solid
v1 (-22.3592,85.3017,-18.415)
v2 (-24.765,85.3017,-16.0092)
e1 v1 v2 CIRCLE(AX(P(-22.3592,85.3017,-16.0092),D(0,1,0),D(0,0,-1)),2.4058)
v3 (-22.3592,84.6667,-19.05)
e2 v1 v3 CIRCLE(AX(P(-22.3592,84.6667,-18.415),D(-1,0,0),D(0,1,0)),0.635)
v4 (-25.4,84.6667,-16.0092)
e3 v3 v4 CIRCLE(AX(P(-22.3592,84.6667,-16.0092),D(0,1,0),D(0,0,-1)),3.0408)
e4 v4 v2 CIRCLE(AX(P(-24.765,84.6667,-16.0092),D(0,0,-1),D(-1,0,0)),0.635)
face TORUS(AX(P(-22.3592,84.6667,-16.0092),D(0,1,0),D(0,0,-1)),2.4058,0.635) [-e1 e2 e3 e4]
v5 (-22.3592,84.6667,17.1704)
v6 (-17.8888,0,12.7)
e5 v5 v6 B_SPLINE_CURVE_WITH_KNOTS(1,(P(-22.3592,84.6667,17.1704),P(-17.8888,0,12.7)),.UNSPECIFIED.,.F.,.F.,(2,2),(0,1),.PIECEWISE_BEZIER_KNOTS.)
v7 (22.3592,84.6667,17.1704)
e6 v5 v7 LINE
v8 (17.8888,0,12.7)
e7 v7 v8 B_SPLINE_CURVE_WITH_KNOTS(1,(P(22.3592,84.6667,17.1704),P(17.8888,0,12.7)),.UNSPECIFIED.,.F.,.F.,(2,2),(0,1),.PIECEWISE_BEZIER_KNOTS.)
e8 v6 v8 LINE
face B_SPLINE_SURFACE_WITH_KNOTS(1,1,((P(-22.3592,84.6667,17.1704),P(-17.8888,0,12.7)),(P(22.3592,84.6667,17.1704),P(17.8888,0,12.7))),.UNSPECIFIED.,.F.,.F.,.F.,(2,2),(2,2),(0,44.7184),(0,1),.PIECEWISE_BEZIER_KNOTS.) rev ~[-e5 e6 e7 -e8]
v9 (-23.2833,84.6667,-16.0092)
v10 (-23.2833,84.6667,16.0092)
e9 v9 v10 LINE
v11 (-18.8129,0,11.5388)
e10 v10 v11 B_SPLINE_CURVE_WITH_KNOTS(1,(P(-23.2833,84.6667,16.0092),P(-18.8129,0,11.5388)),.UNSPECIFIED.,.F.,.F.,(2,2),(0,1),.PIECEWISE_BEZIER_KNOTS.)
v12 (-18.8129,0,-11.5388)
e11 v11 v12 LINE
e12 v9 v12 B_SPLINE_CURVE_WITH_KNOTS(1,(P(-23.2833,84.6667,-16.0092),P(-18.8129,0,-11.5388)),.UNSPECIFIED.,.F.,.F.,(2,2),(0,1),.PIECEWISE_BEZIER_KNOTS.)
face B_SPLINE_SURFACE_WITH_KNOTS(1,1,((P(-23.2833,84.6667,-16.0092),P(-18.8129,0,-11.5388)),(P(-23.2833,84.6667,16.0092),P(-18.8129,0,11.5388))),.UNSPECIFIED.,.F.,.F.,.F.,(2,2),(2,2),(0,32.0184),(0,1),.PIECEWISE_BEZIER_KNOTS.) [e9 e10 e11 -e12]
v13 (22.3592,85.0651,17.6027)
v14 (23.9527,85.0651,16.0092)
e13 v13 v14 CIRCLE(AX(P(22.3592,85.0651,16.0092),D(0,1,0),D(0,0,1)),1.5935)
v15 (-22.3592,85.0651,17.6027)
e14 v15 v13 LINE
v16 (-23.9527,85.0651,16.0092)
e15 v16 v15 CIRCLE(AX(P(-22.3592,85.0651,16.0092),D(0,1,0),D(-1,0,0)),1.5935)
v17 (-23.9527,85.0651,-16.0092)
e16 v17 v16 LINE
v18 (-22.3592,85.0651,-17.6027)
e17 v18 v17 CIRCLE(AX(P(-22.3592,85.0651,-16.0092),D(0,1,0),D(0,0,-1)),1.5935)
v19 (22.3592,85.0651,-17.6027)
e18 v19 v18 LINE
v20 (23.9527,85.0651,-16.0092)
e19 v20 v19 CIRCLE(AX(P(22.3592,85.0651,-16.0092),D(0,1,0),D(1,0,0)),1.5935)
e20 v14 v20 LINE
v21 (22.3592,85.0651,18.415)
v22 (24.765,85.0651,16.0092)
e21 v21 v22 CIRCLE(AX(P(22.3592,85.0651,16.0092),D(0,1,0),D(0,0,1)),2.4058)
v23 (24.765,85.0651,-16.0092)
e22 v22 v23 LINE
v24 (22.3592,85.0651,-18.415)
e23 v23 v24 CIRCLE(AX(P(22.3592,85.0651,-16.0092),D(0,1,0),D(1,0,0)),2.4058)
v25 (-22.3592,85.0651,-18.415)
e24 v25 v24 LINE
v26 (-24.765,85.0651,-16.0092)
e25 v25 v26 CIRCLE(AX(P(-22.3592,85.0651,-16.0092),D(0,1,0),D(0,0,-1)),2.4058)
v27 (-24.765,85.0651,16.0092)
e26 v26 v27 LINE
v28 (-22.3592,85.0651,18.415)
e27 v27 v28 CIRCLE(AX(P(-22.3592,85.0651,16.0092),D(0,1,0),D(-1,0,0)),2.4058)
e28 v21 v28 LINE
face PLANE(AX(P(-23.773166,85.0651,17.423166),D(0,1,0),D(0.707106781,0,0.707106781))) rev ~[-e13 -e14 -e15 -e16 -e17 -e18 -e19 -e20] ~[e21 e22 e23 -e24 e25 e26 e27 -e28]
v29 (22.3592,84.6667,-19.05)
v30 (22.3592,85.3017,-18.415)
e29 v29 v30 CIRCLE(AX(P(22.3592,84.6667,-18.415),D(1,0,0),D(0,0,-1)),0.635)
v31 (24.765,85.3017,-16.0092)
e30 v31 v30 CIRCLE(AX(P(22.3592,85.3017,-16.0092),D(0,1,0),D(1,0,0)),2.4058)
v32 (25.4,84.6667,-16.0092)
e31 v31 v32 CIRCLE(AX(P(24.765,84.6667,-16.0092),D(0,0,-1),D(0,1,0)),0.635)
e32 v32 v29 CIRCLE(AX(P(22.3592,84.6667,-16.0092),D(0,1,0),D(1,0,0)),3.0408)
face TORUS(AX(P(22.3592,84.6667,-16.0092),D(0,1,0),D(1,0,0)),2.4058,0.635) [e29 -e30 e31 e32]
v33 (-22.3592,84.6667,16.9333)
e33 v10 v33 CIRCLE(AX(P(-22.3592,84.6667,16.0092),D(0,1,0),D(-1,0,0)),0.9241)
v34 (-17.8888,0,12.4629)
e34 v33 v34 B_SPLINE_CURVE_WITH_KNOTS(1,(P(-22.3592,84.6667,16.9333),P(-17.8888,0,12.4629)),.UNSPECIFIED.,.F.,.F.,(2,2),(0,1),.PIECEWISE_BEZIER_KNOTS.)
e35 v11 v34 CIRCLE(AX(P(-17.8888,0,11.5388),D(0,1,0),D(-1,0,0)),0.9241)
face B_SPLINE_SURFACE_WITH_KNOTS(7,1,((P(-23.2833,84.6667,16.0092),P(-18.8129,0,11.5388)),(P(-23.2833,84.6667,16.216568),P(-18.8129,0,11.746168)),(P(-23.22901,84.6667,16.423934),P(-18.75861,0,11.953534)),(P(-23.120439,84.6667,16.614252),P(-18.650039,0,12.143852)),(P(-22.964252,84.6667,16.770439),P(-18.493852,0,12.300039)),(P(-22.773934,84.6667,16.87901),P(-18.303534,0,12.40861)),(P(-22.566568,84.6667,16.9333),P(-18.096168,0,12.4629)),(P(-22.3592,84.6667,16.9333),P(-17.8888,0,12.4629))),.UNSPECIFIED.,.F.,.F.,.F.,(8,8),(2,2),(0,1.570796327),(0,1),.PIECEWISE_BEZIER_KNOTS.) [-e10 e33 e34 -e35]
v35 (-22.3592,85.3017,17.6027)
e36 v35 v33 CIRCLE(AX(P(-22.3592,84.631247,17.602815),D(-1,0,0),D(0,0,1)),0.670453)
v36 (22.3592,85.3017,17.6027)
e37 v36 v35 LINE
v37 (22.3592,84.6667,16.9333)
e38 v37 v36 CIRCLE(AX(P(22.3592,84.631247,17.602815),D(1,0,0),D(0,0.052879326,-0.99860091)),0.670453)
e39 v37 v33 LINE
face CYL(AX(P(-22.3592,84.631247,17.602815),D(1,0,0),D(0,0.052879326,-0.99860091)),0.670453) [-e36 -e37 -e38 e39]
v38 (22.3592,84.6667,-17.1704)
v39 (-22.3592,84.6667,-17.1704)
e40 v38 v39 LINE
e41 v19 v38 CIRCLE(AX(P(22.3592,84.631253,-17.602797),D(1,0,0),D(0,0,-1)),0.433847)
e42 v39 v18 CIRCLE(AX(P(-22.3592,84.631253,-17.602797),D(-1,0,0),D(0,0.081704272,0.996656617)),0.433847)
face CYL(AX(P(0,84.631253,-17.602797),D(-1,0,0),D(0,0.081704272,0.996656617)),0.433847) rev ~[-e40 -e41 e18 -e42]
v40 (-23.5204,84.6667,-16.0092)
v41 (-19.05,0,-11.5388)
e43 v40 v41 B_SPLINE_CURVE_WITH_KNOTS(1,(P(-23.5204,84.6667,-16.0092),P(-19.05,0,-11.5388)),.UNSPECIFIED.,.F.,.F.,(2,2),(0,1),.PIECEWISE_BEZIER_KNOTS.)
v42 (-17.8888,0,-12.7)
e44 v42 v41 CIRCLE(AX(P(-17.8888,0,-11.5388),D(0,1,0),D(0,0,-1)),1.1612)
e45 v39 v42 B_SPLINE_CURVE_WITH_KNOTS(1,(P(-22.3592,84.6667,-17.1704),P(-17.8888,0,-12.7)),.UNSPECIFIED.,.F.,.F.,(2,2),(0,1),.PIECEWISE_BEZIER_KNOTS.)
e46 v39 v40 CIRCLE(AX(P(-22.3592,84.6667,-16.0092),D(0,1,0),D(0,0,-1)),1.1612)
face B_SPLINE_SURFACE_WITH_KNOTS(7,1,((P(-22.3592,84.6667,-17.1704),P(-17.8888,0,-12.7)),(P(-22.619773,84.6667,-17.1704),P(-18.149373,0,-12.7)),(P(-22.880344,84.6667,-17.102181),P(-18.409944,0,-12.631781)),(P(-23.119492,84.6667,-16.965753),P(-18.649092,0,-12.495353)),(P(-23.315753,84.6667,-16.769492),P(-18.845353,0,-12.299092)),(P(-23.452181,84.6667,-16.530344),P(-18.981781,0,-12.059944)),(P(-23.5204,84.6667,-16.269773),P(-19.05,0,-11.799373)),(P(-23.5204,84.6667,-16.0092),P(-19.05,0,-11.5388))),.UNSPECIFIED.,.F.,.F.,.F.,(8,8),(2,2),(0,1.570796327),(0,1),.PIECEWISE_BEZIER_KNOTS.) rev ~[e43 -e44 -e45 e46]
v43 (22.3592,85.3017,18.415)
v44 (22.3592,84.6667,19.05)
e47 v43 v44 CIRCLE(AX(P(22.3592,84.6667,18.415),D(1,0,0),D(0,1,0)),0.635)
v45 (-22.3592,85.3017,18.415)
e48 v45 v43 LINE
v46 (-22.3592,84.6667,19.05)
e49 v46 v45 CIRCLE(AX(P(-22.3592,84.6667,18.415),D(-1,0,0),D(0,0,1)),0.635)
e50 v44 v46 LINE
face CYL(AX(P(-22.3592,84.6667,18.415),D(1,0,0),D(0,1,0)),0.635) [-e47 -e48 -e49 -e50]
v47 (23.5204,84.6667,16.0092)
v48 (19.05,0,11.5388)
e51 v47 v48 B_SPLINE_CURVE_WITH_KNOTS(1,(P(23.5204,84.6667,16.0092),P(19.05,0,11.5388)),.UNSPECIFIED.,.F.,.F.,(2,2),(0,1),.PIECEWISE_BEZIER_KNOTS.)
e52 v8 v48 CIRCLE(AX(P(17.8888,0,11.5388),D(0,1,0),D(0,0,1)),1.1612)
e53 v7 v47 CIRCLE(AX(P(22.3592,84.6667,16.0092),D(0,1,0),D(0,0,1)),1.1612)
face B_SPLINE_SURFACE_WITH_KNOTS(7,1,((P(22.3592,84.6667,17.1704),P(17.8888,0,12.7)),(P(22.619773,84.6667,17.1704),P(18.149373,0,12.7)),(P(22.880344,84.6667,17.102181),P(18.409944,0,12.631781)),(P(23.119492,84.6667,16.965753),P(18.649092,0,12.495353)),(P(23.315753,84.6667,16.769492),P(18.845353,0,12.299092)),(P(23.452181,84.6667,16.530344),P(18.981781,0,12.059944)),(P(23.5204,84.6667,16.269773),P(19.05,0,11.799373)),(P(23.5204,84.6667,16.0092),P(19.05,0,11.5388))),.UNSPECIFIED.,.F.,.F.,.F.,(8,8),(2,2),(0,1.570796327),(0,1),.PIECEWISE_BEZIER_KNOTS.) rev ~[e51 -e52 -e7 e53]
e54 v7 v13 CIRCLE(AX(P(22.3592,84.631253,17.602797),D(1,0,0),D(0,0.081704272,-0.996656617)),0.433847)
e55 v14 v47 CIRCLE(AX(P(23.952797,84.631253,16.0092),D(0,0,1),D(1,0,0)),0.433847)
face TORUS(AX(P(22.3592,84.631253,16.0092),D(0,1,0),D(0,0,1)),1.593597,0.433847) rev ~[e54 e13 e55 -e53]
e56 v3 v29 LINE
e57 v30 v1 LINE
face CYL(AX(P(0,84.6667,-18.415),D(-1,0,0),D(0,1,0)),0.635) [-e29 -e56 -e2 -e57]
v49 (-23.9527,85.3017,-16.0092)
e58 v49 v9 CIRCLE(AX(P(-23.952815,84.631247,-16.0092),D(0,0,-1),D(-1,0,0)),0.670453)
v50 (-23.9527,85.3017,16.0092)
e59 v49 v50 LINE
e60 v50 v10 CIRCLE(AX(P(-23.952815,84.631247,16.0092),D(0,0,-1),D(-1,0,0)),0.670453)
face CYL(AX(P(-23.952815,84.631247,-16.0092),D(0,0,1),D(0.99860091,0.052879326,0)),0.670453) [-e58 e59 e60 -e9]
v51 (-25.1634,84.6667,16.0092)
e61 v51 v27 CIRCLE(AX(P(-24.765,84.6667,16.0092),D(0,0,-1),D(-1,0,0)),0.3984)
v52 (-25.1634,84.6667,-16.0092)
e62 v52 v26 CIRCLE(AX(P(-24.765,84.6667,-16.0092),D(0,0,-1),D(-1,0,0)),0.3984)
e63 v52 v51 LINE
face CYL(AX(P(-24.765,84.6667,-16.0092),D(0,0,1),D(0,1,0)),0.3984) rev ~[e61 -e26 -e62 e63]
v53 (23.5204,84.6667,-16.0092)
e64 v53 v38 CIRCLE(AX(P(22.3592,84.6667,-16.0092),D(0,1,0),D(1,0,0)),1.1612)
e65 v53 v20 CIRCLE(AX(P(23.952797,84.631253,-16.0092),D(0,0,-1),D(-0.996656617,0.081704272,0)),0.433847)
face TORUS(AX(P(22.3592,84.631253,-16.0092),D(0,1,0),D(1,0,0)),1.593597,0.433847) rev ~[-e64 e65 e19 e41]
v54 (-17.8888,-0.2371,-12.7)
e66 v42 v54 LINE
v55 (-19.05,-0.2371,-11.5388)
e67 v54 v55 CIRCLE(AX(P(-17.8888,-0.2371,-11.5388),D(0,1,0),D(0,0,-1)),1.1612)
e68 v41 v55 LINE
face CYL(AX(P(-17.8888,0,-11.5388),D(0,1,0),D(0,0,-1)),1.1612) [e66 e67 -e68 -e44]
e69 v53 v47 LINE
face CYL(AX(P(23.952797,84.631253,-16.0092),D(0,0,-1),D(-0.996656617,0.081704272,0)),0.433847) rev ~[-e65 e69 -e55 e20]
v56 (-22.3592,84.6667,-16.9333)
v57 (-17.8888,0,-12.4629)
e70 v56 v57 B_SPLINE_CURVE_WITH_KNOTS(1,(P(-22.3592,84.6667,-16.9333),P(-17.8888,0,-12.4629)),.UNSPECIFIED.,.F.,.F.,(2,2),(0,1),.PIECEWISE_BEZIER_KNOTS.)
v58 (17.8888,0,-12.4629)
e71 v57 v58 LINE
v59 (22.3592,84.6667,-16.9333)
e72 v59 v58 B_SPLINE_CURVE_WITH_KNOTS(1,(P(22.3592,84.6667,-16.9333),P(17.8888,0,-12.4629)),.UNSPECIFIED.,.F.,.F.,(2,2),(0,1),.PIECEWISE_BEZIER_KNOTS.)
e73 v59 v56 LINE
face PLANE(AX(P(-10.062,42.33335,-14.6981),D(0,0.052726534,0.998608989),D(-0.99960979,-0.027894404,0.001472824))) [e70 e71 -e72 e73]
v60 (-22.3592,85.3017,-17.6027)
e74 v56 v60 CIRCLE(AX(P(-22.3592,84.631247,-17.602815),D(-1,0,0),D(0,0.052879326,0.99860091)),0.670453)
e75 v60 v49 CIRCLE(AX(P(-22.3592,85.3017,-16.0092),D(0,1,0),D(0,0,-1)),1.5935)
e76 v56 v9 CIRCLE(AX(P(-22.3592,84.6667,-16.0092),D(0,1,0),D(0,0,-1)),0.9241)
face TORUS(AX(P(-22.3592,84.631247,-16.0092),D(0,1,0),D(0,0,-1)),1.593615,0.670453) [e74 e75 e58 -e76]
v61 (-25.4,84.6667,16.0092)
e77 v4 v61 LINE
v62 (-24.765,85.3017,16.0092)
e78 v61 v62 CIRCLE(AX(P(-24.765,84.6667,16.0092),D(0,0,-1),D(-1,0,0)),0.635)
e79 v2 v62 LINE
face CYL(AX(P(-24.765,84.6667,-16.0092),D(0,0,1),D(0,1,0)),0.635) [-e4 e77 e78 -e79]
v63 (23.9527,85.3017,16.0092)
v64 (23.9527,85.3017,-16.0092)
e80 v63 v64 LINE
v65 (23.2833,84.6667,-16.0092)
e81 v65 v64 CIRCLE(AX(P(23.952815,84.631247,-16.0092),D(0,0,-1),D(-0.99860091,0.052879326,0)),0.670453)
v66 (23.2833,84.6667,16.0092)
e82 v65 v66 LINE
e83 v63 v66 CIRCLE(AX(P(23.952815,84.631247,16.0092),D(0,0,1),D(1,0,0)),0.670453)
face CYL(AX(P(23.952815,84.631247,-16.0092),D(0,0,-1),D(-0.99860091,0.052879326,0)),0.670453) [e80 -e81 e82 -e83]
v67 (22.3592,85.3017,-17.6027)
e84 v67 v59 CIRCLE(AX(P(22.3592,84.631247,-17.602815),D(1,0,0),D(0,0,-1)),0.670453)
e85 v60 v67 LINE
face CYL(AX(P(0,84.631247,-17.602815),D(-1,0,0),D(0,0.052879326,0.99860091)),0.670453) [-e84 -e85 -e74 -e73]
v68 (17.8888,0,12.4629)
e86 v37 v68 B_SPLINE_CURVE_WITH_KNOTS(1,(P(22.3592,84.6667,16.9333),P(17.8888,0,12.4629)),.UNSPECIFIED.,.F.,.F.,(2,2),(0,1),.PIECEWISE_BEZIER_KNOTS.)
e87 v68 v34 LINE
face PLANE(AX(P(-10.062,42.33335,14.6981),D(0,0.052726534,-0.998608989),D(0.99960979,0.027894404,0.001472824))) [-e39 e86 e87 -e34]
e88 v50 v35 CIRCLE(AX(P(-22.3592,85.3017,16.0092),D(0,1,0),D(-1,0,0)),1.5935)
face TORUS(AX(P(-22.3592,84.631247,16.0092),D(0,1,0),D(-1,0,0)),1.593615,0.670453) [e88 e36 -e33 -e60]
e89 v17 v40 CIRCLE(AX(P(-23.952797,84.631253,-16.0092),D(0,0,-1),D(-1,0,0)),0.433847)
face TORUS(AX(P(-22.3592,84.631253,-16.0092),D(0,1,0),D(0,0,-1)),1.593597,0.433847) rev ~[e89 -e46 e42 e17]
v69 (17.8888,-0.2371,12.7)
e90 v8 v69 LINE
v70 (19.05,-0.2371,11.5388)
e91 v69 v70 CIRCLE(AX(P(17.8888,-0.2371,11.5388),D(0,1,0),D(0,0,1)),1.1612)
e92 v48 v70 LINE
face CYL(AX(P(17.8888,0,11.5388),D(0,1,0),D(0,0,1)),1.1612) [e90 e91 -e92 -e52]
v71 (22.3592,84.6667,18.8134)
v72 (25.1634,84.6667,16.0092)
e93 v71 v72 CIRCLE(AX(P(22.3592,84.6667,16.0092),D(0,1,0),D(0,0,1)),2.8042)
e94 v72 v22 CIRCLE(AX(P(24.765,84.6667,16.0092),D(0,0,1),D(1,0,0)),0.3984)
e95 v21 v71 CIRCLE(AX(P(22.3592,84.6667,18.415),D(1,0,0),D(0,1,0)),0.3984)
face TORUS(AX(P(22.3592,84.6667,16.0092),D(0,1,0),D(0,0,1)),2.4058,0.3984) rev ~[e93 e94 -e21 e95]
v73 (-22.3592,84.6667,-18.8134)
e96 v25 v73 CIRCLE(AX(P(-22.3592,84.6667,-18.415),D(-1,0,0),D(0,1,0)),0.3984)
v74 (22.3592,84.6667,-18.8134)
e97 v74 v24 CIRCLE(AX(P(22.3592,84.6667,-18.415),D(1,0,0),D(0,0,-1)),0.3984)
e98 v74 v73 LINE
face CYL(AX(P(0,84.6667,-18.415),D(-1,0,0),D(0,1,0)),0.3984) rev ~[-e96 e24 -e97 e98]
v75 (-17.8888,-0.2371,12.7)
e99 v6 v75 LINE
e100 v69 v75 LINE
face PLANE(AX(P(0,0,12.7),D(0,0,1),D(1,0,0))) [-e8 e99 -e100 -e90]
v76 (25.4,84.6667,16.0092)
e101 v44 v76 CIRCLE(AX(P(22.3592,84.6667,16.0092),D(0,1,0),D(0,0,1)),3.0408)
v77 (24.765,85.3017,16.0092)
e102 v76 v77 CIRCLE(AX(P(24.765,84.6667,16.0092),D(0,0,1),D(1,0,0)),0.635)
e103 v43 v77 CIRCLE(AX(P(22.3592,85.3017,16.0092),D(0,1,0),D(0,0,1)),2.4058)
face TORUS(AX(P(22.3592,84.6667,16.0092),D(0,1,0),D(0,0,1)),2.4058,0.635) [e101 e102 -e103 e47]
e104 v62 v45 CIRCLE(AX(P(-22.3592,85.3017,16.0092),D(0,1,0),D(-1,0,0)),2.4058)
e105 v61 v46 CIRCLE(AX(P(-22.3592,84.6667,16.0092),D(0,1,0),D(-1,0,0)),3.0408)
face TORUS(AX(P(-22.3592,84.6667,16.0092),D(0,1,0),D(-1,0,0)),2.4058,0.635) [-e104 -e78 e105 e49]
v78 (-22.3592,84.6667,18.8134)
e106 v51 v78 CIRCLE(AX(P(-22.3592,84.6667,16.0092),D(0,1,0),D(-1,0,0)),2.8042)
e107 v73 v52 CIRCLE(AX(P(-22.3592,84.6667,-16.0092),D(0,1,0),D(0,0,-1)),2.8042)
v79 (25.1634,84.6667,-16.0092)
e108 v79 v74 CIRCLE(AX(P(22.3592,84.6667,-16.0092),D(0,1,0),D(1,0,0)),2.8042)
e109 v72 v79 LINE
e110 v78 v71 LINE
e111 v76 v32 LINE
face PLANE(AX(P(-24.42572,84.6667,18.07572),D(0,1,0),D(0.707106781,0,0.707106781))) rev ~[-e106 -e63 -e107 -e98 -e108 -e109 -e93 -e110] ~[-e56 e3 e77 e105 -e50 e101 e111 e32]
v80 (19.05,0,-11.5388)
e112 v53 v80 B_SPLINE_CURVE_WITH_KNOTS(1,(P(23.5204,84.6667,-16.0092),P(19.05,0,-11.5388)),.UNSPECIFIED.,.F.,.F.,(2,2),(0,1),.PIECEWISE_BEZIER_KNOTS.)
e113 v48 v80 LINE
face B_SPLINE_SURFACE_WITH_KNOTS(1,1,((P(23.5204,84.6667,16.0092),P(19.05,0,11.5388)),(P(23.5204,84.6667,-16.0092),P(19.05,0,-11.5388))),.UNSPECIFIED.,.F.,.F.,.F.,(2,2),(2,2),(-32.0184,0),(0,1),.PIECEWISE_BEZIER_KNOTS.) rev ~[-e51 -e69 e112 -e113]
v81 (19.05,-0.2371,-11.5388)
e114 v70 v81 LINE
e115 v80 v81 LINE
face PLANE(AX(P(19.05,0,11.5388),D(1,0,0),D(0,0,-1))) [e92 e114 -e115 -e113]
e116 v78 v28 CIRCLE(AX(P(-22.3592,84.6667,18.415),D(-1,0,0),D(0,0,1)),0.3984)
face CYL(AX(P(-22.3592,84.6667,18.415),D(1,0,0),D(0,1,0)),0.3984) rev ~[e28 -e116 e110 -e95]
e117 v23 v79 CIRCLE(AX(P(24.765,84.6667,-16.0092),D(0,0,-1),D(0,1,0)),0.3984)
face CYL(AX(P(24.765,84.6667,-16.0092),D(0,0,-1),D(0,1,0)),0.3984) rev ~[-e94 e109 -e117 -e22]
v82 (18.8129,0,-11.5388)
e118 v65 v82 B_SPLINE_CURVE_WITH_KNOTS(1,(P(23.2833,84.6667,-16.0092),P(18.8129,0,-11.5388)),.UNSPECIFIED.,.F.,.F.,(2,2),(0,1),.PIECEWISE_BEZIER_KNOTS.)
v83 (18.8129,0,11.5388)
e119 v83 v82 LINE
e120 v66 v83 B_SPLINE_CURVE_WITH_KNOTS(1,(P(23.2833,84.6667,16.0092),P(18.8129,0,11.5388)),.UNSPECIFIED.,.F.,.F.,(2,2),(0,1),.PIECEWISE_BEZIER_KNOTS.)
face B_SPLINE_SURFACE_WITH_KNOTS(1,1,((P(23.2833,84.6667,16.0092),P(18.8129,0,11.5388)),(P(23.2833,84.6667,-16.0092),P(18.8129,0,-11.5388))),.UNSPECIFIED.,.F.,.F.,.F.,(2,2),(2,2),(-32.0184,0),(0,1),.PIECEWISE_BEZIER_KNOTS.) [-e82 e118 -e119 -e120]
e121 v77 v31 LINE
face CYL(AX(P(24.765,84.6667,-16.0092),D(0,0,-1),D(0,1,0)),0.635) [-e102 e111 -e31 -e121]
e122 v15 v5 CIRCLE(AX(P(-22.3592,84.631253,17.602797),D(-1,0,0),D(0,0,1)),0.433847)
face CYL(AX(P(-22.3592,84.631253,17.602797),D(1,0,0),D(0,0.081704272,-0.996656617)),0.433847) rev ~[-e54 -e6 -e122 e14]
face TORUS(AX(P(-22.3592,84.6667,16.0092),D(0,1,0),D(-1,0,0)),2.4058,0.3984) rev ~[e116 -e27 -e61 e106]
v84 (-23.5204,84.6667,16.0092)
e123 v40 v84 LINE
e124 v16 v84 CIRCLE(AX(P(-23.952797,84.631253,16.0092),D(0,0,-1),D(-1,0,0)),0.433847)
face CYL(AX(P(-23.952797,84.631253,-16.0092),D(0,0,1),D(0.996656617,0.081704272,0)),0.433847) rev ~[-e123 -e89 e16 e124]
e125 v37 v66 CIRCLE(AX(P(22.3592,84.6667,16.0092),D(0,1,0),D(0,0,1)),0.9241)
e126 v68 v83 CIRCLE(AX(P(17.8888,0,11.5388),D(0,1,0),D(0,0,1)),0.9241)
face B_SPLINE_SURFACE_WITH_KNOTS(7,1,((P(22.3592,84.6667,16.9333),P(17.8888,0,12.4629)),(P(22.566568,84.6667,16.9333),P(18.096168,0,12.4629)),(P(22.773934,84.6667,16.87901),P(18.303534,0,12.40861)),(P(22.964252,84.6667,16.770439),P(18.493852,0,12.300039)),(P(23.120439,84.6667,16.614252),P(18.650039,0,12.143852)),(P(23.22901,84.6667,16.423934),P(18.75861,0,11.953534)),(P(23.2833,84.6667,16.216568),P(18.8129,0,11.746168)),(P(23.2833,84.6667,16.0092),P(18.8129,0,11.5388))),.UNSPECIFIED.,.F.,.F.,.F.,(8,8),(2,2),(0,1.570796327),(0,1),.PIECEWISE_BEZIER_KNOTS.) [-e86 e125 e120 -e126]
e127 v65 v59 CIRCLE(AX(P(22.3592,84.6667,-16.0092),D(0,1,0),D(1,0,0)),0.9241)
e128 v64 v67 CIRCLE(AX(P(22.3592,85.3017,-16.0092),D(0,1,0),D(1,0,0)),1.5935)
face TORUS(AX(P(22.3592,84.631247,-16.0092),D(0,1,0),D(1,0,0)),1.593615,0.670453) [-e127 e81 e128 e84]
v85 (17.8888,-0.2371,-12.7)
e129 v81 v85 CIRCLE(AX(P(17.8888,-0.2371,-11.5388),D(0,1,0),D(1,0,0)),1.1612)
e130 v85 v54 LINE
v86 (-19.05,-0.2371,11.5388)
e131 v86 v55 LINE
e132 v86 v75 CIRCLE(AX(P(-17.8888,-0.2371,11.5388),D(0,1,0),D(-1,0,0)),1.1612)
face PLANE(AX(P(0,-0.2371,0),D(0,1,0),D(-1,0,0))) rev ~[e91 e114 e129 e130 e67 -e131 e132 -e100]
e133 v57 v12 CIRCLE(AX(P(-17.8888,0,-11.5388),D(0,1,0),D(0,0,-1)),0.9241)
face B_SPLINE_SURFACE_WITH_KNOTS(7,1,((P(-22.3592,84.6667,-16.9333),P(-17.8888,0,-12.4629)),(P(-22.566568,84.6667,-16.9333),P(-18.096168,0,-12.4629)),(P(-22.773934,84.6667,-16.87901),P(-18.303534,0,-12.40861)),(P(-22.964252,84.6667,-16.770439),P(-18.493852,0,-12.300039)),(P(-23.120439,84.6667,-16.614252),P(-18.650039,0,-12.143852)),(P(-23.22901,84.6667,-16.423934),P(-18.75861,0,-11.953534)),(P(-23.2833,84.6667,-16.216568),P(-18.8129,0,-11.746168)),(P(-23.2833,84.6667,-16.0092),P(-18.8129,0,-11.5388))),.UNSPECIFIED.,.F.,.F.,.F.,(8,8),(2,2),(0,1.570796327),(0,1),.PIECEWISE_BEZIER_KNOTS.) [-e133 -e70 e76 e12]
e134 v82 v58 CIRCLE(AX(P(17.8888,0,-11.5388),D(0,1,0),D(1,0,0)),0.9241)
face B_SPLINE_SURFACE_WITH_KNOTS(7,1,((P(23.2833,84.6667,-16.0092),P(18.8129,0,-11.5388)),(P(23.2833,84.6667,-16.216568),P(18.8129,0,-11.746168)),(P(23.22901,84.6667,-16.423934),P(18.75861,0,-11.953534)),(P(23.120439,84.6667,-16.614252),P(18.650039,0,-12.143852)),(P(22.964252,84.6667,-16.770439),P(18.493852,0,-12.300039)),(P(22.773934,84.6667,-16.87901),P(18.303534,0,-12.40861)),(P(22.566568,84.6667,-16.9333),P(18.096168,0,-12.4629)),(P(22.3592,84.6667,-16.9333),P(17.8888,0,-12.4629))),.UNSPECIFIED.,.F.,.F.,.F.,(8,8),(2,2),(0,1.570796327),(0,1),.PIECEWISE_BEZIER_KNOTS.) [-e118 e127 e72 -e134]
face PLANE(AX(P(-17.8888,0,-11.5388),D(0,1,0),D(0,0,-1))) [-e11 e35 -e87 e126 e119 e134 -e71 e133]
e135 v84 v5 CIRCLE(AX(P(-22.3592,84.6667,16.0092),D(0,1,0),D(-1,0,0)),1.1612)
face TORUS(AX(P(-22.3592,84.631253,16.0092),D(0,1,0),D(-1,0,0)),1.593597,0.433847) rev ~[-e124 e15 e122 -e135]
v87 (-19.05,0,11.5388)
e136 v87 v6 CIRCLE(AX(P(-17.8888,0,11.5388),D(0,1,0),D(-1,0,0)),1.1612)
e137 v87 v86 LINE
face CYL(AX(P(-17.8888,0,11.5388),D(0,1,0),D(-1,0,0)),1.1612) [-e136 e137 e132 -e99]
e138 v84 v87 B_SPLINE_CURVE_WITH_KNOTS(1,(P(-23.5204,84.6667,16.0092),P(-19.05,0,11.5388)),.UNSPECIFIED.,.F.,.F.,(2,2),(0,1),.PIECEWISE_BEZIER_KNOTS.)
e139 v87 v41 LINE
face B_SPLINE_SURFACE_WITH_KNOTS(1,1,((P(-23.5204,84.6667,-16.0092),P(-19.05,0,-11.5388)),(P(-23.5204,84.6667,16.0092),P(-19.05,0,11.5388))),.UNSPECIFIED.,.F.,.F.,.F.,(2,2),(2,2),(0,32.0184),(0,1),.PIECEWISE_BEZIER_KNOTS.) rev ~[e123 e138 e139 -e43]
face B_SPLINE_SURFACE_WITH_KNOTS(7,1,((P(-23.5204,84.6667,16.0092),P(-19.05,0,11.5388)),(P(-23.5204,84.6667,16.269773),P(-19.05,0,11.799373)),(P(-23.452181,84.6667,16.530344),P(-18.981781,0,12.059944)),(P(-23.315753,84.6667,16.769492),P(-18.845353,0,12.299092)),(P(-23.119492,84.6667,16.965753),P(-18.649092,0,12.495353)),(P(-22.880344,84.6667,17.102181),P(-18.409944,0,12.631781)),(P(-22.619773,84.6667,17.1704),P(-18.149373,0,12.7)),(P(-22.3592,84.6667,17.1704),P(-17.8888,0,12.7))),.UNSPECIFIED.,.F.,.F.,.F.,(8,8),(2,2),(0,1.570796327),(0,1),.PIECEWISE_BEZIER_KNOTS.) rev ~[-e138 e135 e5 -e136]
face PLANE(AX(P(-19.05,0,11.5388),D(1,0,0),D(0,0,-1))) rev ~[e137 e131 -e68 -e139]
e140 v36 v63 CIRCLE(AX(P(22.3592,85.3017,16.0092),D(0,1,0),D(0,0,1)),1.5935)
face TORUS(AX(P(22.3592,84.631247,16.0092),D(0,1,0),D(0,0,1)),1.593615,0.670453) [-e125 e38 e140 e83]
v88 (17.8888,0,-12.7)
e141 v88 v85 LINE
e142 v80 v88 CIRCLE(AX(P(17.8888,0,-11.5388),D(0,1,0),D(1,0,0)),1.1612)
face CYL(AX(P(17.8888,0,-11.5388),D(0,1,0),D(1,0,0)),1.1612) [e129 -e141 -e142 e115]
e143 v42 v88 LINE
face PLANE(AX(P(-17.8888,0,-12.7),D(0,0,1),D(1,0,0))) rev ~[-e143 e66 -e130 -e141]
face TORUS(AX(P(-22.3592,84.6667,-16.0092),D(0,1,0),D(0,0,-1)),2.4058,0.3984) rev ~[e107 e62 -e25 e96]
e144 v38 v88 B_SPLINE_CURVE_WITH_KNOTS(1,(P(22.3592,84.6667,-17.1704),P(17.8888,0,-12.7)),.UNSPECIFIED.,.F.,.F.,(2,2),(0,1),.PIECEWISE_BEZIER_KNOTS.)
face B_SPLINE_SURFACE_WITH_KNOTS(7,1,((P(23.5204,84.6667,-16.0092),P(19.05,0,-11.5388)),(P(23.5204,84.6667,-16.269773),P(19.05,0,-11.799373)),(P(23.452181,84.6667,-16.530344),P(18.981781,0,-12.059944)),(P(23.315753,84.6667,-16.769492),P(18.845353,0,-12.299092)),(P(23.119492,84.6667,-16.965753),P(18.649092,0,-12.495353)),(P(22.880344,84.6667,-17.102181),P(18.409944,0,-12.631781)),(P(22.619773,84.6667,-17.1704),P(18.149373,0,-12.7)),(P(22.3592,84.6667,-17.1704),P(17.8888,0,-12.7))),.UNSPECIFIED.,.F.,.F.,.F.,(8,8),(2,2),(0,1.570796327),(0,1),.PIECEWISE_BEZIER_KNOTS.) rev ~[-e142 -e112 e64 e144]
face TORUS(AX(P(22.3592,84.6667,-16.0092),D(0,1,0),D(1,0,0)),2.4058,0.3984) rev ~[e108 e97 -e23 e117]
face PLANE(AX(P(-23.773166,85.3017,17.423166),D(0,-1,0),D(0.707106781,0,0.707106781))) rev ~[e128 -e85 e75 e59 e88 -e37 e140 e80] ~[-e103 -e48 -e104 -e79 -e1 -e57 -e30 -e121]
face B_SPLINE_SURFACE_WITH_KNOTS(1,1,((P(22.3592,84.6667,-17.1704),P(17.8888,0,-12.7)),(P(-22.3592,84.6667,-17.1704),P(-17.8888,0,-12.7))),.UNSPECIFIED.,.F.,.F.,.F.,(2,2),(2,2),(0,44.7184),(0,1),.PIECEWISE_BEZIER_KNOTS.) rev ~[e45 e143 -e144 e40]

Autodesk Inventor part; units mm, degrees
ref_plane "YZ Plane" through (0, 0, 0) normal (1, 0, 0) x (0, 1, 0)
ref_plane "XY Plane" through (0, 0, 0) normal (0, 0, 1) x (1, 0, 0)
sketch "Sketch1" plane through (0, 0, 0) normal (0, 1, 0) x (-1, 0, 0)
  line L0 (17.8888, -12.7) -> (0, -12.7)
  line L1 (0, 12.7) -> (17.8888, 12.7)
  line L2 (19.05, 11.5388) -> (19.05, -11.5388)
  arc A0 (17.8888, -12.7) -> (19.05, -11.5388) centre (17.8888, -11.5388) ccw
  line L3 (0, -12.7) -> (0, 12.7) construction
  arc A1 (19.05, 11.5388) -> (17.8888, 12.7) centre (17.8888, 11.5388) ccw
  line L4 (17.8888, -12.4629) -> (0, -12.4629)
  line L5 (0, 12.4629) -> (17.8888, 12.4629)
  line L6 (18.8129, 11.5388) -> (18.8129, -11.5388)
  arc A2 (17.8888, -12.4629) -> (18.8129, -11.5388) centre (17.8888, -11.5388) ccw
  arc A3 (18.8129, 11.5388) -> (17.8888, 12.4629) centre (17.8888, 11.5388) ccw
  line L7 (-17.8888, -12.7) -> (0, -12.7)
  line L8 (0, 12.7) -> (-17.8888, 12.7)
  line L9 (-19.05, 11.5388) -> (-19.05, -11.5388)
  arc A4 (-19.05, -11.5388) -> (-17.8888, -12.7) centre (-17.8888, -11.5388) ccw
  arc A5 (-17.8888, 12.7) -> (-19.05, 11.5388) centre (-17.8888, 11.5388) ccw
  line L10 (-17.8888, -12.4629) -> (0, -12.4629)
  line L11 (0, 12.4629) -> (-17.8888, 12.4629)
  line L12 (-18.8129, 11.5388) -> (-18.8129, -11.5388)
  arc A6 (-18.8129, -11.5388) -> (-17.8888, -12.4629) centre (-17.8888, -11.5388) ccw
  arc A7 (-17.8888, 12.4629) -> (-18.8129, 11.5388) centre (-17.8888, 11.5388) ccw
  point P0 (0, 0)
  point P1 (0, 0)
  dimension "d2" = 0.2371
  dimension "d3" = 0.2371
  dimension "d4" = 0.2371
  dimension "d6" = 19.05
  dimension "d7" = 25.4
  dimension "d17" = 0.9241
extrude "bottom of bin" add sketch "Sketch1" against normal blind 0.2371 contours L0 L7 A4 L9 A5 L8 L1 A1 L2 A0 | L4 L10 A6 L12 A7 L11 L5 A3 L6 A2
ref_plane "Work Plane1" through (0, 84.6667, 0) normal (0, 1, 0) x (-1, 0, 0)
sketch "Sketch2" plane through (0, 84.6667, 0) normal (0, 1, 0) x (-1, 0, 0)
  line L0 (0, -16.9333) -> (22.3592, -16.9333)
  line L1 (23.2833, -16.0092) -> (23.2833, 16.0092)
  line L2 (22.3592, 16.9333) -> (0, 16.9333)
  line L3 (17.8888, -12.7) -> (-17.8888, -12.7) projected
  line L4 (17.8888, 12.7) -> (-17.8888, 12.7) projected
  line L5 (19.05, -11.5388) -> (19.05, 11.5388) projected
  line L6 (0, -17.1704) -> (22.3592, -17.1704)
  line L7 (23.5204, -16.0092) -> (23.5204, 16.0092)
  line L8 (22.3592, 17.1704) -> (0, 17.1704)
  arc A0 (22.3592, -16.9333) -> (23.2833, -16.0092) centre (22.3592, -16.0092) ccw
  arc A1 (23.2833, 16.0092) -> (22.3592, 16.9333) centre (22.3592, 16.0092) ccw
  arc A2 (23.5204, 16.0092) -> (22.3592, 17.1704) centre (22.3592, 16.0092) ccw
  arc A3 (22.3592, -17.1704) -> (23.5204, -16.0092) centre (22.3592, -16.0092) ccw
  line L9 (0, -8.1161) -> (0, 0) construction
  line L10 (0, -16.9333) -> (-22.3592, -16.9333)
  line L11 (-23.2833, -16.0092) -> (-23.2833, 16.0092)
  line L12 (-22.3592, 16.9333) -> (0, 16.9333)
  line L13 (0, -17.1704) -> (-22.3592, -17.1704)
  line L14 (-23.5204, -16.0092) -> (-23.5204, 16.0092)
  line L15 (-22.3592, 17.1704) -> (0, 17.1704)
  arc A4 (-23.2833, -16.0092) -> (-22.3592, -16.9333) centre (-22.3592, -16.0092) ccw
  arc A5 (-22.3592, 16.9333) -> (-23.2833, 16.0092) centre (-22.3592, 16.0092) ccw
  arc A6 (-22.3592, 17.1704) -> (-23.5204, 16.0092) centre (-22.3592, 16.0092) ccw
  arc A7 (-23.5204, -16.0092) -> (-22.3592, -17.1704) centre (-22.3592, -16.0092) ccw
  point P0 (0, 0)
  dimension "d11" = 4.2333
  dimension "d12" = 4.2333
  dimension "d13" = 4.2333
  dimension "d14" = 0.2371
  dimension "d15" = 0.2371
  dimension "d16" = 0.2371
  dimension "d18" = 0.9241
  dimension "d19" = 0.9241
loft "loft make" add profiles "Sketch2", "Sketch1" contours L10 A4 L11 A5 L12 L2 A1 L1 A0 L0 | L13 A7 L14 A6 L15 L8 A2 L7 A3 L6 / L0 L7 A4 L9 A5 L8 L1 A1 L2 A0 | L4 L10 A6 L12 A7 L11 L5 A3 L6 A2
loft "loft cut" cut profiles "Sketch2", "Sketch1" contours L10 A4 L11 A5 L12 L2 A1 L1 A0 L0 / L4 L10 A6 L12 A7 L11 L5 A3 L6 A2
sketch "Sketch3" plane through (0, 0, 0) normal (1, 0, 0) x (0, 1, 0)
  line L0 (84.6667, 16.9333) -> (0, 12.4629) projected
  arc A0 (84.6667, 16.9333) -> (85.3017, 17.6027) centre (84.6313, 17.6027) ccw
  line L1 (85.3017, 17.6027) -> (85.3017, 18.415)
  arc A1 (84.6667, 17.1704) -> (85.0651, 17.6027) centre (84.6313, 17.6027) ccw
  arc A2 (85.3017, 18.415) -> (84.6667, 19.05) centre (84.6667, 18.415) ccw
  line L2 (84.6667, 19.05) -> (84.533, 19.05) construction
  line L3 (84.6667, 19.05) -> (84.6667, 18.8134)
  line L4 (85.0651, 17.6027) -> (85.0651, 18.415)
  arc A3 (85.0651, 18.415) -> (84.6667, 18.8134) centre (84.6667, 18.415) ccw
  line L5 (84.6667, 17.1704) -> (84.6667, 16.0092) projected
  line L6 (84.6667, 16.9333) -> (84.6667, 17.1704)
  point P0 (0, 0)
  dimension "d28" = 2.1167
  dimension "d29" = 0.635
sweep "lip rim" add profiles "Sketch3" path "Sketch2" path curves L8 A2 L7 A3 L6 L13 A7 L14 A6 L15
equation "\"d3\" = d2"
equation "\"d4\" = d2"
equation "\"d8\" = d2"
equation "\"d12\" = d11"
equation "\"d13\" = d11"
equation "\"d14\" = d2"
equation "\"d15\" = d2"
equation "\"d16\" = d2"
equation "\"d18\" = d17"
equation "\"d19\" = d17"
properties part number "recycle and trash bin"
